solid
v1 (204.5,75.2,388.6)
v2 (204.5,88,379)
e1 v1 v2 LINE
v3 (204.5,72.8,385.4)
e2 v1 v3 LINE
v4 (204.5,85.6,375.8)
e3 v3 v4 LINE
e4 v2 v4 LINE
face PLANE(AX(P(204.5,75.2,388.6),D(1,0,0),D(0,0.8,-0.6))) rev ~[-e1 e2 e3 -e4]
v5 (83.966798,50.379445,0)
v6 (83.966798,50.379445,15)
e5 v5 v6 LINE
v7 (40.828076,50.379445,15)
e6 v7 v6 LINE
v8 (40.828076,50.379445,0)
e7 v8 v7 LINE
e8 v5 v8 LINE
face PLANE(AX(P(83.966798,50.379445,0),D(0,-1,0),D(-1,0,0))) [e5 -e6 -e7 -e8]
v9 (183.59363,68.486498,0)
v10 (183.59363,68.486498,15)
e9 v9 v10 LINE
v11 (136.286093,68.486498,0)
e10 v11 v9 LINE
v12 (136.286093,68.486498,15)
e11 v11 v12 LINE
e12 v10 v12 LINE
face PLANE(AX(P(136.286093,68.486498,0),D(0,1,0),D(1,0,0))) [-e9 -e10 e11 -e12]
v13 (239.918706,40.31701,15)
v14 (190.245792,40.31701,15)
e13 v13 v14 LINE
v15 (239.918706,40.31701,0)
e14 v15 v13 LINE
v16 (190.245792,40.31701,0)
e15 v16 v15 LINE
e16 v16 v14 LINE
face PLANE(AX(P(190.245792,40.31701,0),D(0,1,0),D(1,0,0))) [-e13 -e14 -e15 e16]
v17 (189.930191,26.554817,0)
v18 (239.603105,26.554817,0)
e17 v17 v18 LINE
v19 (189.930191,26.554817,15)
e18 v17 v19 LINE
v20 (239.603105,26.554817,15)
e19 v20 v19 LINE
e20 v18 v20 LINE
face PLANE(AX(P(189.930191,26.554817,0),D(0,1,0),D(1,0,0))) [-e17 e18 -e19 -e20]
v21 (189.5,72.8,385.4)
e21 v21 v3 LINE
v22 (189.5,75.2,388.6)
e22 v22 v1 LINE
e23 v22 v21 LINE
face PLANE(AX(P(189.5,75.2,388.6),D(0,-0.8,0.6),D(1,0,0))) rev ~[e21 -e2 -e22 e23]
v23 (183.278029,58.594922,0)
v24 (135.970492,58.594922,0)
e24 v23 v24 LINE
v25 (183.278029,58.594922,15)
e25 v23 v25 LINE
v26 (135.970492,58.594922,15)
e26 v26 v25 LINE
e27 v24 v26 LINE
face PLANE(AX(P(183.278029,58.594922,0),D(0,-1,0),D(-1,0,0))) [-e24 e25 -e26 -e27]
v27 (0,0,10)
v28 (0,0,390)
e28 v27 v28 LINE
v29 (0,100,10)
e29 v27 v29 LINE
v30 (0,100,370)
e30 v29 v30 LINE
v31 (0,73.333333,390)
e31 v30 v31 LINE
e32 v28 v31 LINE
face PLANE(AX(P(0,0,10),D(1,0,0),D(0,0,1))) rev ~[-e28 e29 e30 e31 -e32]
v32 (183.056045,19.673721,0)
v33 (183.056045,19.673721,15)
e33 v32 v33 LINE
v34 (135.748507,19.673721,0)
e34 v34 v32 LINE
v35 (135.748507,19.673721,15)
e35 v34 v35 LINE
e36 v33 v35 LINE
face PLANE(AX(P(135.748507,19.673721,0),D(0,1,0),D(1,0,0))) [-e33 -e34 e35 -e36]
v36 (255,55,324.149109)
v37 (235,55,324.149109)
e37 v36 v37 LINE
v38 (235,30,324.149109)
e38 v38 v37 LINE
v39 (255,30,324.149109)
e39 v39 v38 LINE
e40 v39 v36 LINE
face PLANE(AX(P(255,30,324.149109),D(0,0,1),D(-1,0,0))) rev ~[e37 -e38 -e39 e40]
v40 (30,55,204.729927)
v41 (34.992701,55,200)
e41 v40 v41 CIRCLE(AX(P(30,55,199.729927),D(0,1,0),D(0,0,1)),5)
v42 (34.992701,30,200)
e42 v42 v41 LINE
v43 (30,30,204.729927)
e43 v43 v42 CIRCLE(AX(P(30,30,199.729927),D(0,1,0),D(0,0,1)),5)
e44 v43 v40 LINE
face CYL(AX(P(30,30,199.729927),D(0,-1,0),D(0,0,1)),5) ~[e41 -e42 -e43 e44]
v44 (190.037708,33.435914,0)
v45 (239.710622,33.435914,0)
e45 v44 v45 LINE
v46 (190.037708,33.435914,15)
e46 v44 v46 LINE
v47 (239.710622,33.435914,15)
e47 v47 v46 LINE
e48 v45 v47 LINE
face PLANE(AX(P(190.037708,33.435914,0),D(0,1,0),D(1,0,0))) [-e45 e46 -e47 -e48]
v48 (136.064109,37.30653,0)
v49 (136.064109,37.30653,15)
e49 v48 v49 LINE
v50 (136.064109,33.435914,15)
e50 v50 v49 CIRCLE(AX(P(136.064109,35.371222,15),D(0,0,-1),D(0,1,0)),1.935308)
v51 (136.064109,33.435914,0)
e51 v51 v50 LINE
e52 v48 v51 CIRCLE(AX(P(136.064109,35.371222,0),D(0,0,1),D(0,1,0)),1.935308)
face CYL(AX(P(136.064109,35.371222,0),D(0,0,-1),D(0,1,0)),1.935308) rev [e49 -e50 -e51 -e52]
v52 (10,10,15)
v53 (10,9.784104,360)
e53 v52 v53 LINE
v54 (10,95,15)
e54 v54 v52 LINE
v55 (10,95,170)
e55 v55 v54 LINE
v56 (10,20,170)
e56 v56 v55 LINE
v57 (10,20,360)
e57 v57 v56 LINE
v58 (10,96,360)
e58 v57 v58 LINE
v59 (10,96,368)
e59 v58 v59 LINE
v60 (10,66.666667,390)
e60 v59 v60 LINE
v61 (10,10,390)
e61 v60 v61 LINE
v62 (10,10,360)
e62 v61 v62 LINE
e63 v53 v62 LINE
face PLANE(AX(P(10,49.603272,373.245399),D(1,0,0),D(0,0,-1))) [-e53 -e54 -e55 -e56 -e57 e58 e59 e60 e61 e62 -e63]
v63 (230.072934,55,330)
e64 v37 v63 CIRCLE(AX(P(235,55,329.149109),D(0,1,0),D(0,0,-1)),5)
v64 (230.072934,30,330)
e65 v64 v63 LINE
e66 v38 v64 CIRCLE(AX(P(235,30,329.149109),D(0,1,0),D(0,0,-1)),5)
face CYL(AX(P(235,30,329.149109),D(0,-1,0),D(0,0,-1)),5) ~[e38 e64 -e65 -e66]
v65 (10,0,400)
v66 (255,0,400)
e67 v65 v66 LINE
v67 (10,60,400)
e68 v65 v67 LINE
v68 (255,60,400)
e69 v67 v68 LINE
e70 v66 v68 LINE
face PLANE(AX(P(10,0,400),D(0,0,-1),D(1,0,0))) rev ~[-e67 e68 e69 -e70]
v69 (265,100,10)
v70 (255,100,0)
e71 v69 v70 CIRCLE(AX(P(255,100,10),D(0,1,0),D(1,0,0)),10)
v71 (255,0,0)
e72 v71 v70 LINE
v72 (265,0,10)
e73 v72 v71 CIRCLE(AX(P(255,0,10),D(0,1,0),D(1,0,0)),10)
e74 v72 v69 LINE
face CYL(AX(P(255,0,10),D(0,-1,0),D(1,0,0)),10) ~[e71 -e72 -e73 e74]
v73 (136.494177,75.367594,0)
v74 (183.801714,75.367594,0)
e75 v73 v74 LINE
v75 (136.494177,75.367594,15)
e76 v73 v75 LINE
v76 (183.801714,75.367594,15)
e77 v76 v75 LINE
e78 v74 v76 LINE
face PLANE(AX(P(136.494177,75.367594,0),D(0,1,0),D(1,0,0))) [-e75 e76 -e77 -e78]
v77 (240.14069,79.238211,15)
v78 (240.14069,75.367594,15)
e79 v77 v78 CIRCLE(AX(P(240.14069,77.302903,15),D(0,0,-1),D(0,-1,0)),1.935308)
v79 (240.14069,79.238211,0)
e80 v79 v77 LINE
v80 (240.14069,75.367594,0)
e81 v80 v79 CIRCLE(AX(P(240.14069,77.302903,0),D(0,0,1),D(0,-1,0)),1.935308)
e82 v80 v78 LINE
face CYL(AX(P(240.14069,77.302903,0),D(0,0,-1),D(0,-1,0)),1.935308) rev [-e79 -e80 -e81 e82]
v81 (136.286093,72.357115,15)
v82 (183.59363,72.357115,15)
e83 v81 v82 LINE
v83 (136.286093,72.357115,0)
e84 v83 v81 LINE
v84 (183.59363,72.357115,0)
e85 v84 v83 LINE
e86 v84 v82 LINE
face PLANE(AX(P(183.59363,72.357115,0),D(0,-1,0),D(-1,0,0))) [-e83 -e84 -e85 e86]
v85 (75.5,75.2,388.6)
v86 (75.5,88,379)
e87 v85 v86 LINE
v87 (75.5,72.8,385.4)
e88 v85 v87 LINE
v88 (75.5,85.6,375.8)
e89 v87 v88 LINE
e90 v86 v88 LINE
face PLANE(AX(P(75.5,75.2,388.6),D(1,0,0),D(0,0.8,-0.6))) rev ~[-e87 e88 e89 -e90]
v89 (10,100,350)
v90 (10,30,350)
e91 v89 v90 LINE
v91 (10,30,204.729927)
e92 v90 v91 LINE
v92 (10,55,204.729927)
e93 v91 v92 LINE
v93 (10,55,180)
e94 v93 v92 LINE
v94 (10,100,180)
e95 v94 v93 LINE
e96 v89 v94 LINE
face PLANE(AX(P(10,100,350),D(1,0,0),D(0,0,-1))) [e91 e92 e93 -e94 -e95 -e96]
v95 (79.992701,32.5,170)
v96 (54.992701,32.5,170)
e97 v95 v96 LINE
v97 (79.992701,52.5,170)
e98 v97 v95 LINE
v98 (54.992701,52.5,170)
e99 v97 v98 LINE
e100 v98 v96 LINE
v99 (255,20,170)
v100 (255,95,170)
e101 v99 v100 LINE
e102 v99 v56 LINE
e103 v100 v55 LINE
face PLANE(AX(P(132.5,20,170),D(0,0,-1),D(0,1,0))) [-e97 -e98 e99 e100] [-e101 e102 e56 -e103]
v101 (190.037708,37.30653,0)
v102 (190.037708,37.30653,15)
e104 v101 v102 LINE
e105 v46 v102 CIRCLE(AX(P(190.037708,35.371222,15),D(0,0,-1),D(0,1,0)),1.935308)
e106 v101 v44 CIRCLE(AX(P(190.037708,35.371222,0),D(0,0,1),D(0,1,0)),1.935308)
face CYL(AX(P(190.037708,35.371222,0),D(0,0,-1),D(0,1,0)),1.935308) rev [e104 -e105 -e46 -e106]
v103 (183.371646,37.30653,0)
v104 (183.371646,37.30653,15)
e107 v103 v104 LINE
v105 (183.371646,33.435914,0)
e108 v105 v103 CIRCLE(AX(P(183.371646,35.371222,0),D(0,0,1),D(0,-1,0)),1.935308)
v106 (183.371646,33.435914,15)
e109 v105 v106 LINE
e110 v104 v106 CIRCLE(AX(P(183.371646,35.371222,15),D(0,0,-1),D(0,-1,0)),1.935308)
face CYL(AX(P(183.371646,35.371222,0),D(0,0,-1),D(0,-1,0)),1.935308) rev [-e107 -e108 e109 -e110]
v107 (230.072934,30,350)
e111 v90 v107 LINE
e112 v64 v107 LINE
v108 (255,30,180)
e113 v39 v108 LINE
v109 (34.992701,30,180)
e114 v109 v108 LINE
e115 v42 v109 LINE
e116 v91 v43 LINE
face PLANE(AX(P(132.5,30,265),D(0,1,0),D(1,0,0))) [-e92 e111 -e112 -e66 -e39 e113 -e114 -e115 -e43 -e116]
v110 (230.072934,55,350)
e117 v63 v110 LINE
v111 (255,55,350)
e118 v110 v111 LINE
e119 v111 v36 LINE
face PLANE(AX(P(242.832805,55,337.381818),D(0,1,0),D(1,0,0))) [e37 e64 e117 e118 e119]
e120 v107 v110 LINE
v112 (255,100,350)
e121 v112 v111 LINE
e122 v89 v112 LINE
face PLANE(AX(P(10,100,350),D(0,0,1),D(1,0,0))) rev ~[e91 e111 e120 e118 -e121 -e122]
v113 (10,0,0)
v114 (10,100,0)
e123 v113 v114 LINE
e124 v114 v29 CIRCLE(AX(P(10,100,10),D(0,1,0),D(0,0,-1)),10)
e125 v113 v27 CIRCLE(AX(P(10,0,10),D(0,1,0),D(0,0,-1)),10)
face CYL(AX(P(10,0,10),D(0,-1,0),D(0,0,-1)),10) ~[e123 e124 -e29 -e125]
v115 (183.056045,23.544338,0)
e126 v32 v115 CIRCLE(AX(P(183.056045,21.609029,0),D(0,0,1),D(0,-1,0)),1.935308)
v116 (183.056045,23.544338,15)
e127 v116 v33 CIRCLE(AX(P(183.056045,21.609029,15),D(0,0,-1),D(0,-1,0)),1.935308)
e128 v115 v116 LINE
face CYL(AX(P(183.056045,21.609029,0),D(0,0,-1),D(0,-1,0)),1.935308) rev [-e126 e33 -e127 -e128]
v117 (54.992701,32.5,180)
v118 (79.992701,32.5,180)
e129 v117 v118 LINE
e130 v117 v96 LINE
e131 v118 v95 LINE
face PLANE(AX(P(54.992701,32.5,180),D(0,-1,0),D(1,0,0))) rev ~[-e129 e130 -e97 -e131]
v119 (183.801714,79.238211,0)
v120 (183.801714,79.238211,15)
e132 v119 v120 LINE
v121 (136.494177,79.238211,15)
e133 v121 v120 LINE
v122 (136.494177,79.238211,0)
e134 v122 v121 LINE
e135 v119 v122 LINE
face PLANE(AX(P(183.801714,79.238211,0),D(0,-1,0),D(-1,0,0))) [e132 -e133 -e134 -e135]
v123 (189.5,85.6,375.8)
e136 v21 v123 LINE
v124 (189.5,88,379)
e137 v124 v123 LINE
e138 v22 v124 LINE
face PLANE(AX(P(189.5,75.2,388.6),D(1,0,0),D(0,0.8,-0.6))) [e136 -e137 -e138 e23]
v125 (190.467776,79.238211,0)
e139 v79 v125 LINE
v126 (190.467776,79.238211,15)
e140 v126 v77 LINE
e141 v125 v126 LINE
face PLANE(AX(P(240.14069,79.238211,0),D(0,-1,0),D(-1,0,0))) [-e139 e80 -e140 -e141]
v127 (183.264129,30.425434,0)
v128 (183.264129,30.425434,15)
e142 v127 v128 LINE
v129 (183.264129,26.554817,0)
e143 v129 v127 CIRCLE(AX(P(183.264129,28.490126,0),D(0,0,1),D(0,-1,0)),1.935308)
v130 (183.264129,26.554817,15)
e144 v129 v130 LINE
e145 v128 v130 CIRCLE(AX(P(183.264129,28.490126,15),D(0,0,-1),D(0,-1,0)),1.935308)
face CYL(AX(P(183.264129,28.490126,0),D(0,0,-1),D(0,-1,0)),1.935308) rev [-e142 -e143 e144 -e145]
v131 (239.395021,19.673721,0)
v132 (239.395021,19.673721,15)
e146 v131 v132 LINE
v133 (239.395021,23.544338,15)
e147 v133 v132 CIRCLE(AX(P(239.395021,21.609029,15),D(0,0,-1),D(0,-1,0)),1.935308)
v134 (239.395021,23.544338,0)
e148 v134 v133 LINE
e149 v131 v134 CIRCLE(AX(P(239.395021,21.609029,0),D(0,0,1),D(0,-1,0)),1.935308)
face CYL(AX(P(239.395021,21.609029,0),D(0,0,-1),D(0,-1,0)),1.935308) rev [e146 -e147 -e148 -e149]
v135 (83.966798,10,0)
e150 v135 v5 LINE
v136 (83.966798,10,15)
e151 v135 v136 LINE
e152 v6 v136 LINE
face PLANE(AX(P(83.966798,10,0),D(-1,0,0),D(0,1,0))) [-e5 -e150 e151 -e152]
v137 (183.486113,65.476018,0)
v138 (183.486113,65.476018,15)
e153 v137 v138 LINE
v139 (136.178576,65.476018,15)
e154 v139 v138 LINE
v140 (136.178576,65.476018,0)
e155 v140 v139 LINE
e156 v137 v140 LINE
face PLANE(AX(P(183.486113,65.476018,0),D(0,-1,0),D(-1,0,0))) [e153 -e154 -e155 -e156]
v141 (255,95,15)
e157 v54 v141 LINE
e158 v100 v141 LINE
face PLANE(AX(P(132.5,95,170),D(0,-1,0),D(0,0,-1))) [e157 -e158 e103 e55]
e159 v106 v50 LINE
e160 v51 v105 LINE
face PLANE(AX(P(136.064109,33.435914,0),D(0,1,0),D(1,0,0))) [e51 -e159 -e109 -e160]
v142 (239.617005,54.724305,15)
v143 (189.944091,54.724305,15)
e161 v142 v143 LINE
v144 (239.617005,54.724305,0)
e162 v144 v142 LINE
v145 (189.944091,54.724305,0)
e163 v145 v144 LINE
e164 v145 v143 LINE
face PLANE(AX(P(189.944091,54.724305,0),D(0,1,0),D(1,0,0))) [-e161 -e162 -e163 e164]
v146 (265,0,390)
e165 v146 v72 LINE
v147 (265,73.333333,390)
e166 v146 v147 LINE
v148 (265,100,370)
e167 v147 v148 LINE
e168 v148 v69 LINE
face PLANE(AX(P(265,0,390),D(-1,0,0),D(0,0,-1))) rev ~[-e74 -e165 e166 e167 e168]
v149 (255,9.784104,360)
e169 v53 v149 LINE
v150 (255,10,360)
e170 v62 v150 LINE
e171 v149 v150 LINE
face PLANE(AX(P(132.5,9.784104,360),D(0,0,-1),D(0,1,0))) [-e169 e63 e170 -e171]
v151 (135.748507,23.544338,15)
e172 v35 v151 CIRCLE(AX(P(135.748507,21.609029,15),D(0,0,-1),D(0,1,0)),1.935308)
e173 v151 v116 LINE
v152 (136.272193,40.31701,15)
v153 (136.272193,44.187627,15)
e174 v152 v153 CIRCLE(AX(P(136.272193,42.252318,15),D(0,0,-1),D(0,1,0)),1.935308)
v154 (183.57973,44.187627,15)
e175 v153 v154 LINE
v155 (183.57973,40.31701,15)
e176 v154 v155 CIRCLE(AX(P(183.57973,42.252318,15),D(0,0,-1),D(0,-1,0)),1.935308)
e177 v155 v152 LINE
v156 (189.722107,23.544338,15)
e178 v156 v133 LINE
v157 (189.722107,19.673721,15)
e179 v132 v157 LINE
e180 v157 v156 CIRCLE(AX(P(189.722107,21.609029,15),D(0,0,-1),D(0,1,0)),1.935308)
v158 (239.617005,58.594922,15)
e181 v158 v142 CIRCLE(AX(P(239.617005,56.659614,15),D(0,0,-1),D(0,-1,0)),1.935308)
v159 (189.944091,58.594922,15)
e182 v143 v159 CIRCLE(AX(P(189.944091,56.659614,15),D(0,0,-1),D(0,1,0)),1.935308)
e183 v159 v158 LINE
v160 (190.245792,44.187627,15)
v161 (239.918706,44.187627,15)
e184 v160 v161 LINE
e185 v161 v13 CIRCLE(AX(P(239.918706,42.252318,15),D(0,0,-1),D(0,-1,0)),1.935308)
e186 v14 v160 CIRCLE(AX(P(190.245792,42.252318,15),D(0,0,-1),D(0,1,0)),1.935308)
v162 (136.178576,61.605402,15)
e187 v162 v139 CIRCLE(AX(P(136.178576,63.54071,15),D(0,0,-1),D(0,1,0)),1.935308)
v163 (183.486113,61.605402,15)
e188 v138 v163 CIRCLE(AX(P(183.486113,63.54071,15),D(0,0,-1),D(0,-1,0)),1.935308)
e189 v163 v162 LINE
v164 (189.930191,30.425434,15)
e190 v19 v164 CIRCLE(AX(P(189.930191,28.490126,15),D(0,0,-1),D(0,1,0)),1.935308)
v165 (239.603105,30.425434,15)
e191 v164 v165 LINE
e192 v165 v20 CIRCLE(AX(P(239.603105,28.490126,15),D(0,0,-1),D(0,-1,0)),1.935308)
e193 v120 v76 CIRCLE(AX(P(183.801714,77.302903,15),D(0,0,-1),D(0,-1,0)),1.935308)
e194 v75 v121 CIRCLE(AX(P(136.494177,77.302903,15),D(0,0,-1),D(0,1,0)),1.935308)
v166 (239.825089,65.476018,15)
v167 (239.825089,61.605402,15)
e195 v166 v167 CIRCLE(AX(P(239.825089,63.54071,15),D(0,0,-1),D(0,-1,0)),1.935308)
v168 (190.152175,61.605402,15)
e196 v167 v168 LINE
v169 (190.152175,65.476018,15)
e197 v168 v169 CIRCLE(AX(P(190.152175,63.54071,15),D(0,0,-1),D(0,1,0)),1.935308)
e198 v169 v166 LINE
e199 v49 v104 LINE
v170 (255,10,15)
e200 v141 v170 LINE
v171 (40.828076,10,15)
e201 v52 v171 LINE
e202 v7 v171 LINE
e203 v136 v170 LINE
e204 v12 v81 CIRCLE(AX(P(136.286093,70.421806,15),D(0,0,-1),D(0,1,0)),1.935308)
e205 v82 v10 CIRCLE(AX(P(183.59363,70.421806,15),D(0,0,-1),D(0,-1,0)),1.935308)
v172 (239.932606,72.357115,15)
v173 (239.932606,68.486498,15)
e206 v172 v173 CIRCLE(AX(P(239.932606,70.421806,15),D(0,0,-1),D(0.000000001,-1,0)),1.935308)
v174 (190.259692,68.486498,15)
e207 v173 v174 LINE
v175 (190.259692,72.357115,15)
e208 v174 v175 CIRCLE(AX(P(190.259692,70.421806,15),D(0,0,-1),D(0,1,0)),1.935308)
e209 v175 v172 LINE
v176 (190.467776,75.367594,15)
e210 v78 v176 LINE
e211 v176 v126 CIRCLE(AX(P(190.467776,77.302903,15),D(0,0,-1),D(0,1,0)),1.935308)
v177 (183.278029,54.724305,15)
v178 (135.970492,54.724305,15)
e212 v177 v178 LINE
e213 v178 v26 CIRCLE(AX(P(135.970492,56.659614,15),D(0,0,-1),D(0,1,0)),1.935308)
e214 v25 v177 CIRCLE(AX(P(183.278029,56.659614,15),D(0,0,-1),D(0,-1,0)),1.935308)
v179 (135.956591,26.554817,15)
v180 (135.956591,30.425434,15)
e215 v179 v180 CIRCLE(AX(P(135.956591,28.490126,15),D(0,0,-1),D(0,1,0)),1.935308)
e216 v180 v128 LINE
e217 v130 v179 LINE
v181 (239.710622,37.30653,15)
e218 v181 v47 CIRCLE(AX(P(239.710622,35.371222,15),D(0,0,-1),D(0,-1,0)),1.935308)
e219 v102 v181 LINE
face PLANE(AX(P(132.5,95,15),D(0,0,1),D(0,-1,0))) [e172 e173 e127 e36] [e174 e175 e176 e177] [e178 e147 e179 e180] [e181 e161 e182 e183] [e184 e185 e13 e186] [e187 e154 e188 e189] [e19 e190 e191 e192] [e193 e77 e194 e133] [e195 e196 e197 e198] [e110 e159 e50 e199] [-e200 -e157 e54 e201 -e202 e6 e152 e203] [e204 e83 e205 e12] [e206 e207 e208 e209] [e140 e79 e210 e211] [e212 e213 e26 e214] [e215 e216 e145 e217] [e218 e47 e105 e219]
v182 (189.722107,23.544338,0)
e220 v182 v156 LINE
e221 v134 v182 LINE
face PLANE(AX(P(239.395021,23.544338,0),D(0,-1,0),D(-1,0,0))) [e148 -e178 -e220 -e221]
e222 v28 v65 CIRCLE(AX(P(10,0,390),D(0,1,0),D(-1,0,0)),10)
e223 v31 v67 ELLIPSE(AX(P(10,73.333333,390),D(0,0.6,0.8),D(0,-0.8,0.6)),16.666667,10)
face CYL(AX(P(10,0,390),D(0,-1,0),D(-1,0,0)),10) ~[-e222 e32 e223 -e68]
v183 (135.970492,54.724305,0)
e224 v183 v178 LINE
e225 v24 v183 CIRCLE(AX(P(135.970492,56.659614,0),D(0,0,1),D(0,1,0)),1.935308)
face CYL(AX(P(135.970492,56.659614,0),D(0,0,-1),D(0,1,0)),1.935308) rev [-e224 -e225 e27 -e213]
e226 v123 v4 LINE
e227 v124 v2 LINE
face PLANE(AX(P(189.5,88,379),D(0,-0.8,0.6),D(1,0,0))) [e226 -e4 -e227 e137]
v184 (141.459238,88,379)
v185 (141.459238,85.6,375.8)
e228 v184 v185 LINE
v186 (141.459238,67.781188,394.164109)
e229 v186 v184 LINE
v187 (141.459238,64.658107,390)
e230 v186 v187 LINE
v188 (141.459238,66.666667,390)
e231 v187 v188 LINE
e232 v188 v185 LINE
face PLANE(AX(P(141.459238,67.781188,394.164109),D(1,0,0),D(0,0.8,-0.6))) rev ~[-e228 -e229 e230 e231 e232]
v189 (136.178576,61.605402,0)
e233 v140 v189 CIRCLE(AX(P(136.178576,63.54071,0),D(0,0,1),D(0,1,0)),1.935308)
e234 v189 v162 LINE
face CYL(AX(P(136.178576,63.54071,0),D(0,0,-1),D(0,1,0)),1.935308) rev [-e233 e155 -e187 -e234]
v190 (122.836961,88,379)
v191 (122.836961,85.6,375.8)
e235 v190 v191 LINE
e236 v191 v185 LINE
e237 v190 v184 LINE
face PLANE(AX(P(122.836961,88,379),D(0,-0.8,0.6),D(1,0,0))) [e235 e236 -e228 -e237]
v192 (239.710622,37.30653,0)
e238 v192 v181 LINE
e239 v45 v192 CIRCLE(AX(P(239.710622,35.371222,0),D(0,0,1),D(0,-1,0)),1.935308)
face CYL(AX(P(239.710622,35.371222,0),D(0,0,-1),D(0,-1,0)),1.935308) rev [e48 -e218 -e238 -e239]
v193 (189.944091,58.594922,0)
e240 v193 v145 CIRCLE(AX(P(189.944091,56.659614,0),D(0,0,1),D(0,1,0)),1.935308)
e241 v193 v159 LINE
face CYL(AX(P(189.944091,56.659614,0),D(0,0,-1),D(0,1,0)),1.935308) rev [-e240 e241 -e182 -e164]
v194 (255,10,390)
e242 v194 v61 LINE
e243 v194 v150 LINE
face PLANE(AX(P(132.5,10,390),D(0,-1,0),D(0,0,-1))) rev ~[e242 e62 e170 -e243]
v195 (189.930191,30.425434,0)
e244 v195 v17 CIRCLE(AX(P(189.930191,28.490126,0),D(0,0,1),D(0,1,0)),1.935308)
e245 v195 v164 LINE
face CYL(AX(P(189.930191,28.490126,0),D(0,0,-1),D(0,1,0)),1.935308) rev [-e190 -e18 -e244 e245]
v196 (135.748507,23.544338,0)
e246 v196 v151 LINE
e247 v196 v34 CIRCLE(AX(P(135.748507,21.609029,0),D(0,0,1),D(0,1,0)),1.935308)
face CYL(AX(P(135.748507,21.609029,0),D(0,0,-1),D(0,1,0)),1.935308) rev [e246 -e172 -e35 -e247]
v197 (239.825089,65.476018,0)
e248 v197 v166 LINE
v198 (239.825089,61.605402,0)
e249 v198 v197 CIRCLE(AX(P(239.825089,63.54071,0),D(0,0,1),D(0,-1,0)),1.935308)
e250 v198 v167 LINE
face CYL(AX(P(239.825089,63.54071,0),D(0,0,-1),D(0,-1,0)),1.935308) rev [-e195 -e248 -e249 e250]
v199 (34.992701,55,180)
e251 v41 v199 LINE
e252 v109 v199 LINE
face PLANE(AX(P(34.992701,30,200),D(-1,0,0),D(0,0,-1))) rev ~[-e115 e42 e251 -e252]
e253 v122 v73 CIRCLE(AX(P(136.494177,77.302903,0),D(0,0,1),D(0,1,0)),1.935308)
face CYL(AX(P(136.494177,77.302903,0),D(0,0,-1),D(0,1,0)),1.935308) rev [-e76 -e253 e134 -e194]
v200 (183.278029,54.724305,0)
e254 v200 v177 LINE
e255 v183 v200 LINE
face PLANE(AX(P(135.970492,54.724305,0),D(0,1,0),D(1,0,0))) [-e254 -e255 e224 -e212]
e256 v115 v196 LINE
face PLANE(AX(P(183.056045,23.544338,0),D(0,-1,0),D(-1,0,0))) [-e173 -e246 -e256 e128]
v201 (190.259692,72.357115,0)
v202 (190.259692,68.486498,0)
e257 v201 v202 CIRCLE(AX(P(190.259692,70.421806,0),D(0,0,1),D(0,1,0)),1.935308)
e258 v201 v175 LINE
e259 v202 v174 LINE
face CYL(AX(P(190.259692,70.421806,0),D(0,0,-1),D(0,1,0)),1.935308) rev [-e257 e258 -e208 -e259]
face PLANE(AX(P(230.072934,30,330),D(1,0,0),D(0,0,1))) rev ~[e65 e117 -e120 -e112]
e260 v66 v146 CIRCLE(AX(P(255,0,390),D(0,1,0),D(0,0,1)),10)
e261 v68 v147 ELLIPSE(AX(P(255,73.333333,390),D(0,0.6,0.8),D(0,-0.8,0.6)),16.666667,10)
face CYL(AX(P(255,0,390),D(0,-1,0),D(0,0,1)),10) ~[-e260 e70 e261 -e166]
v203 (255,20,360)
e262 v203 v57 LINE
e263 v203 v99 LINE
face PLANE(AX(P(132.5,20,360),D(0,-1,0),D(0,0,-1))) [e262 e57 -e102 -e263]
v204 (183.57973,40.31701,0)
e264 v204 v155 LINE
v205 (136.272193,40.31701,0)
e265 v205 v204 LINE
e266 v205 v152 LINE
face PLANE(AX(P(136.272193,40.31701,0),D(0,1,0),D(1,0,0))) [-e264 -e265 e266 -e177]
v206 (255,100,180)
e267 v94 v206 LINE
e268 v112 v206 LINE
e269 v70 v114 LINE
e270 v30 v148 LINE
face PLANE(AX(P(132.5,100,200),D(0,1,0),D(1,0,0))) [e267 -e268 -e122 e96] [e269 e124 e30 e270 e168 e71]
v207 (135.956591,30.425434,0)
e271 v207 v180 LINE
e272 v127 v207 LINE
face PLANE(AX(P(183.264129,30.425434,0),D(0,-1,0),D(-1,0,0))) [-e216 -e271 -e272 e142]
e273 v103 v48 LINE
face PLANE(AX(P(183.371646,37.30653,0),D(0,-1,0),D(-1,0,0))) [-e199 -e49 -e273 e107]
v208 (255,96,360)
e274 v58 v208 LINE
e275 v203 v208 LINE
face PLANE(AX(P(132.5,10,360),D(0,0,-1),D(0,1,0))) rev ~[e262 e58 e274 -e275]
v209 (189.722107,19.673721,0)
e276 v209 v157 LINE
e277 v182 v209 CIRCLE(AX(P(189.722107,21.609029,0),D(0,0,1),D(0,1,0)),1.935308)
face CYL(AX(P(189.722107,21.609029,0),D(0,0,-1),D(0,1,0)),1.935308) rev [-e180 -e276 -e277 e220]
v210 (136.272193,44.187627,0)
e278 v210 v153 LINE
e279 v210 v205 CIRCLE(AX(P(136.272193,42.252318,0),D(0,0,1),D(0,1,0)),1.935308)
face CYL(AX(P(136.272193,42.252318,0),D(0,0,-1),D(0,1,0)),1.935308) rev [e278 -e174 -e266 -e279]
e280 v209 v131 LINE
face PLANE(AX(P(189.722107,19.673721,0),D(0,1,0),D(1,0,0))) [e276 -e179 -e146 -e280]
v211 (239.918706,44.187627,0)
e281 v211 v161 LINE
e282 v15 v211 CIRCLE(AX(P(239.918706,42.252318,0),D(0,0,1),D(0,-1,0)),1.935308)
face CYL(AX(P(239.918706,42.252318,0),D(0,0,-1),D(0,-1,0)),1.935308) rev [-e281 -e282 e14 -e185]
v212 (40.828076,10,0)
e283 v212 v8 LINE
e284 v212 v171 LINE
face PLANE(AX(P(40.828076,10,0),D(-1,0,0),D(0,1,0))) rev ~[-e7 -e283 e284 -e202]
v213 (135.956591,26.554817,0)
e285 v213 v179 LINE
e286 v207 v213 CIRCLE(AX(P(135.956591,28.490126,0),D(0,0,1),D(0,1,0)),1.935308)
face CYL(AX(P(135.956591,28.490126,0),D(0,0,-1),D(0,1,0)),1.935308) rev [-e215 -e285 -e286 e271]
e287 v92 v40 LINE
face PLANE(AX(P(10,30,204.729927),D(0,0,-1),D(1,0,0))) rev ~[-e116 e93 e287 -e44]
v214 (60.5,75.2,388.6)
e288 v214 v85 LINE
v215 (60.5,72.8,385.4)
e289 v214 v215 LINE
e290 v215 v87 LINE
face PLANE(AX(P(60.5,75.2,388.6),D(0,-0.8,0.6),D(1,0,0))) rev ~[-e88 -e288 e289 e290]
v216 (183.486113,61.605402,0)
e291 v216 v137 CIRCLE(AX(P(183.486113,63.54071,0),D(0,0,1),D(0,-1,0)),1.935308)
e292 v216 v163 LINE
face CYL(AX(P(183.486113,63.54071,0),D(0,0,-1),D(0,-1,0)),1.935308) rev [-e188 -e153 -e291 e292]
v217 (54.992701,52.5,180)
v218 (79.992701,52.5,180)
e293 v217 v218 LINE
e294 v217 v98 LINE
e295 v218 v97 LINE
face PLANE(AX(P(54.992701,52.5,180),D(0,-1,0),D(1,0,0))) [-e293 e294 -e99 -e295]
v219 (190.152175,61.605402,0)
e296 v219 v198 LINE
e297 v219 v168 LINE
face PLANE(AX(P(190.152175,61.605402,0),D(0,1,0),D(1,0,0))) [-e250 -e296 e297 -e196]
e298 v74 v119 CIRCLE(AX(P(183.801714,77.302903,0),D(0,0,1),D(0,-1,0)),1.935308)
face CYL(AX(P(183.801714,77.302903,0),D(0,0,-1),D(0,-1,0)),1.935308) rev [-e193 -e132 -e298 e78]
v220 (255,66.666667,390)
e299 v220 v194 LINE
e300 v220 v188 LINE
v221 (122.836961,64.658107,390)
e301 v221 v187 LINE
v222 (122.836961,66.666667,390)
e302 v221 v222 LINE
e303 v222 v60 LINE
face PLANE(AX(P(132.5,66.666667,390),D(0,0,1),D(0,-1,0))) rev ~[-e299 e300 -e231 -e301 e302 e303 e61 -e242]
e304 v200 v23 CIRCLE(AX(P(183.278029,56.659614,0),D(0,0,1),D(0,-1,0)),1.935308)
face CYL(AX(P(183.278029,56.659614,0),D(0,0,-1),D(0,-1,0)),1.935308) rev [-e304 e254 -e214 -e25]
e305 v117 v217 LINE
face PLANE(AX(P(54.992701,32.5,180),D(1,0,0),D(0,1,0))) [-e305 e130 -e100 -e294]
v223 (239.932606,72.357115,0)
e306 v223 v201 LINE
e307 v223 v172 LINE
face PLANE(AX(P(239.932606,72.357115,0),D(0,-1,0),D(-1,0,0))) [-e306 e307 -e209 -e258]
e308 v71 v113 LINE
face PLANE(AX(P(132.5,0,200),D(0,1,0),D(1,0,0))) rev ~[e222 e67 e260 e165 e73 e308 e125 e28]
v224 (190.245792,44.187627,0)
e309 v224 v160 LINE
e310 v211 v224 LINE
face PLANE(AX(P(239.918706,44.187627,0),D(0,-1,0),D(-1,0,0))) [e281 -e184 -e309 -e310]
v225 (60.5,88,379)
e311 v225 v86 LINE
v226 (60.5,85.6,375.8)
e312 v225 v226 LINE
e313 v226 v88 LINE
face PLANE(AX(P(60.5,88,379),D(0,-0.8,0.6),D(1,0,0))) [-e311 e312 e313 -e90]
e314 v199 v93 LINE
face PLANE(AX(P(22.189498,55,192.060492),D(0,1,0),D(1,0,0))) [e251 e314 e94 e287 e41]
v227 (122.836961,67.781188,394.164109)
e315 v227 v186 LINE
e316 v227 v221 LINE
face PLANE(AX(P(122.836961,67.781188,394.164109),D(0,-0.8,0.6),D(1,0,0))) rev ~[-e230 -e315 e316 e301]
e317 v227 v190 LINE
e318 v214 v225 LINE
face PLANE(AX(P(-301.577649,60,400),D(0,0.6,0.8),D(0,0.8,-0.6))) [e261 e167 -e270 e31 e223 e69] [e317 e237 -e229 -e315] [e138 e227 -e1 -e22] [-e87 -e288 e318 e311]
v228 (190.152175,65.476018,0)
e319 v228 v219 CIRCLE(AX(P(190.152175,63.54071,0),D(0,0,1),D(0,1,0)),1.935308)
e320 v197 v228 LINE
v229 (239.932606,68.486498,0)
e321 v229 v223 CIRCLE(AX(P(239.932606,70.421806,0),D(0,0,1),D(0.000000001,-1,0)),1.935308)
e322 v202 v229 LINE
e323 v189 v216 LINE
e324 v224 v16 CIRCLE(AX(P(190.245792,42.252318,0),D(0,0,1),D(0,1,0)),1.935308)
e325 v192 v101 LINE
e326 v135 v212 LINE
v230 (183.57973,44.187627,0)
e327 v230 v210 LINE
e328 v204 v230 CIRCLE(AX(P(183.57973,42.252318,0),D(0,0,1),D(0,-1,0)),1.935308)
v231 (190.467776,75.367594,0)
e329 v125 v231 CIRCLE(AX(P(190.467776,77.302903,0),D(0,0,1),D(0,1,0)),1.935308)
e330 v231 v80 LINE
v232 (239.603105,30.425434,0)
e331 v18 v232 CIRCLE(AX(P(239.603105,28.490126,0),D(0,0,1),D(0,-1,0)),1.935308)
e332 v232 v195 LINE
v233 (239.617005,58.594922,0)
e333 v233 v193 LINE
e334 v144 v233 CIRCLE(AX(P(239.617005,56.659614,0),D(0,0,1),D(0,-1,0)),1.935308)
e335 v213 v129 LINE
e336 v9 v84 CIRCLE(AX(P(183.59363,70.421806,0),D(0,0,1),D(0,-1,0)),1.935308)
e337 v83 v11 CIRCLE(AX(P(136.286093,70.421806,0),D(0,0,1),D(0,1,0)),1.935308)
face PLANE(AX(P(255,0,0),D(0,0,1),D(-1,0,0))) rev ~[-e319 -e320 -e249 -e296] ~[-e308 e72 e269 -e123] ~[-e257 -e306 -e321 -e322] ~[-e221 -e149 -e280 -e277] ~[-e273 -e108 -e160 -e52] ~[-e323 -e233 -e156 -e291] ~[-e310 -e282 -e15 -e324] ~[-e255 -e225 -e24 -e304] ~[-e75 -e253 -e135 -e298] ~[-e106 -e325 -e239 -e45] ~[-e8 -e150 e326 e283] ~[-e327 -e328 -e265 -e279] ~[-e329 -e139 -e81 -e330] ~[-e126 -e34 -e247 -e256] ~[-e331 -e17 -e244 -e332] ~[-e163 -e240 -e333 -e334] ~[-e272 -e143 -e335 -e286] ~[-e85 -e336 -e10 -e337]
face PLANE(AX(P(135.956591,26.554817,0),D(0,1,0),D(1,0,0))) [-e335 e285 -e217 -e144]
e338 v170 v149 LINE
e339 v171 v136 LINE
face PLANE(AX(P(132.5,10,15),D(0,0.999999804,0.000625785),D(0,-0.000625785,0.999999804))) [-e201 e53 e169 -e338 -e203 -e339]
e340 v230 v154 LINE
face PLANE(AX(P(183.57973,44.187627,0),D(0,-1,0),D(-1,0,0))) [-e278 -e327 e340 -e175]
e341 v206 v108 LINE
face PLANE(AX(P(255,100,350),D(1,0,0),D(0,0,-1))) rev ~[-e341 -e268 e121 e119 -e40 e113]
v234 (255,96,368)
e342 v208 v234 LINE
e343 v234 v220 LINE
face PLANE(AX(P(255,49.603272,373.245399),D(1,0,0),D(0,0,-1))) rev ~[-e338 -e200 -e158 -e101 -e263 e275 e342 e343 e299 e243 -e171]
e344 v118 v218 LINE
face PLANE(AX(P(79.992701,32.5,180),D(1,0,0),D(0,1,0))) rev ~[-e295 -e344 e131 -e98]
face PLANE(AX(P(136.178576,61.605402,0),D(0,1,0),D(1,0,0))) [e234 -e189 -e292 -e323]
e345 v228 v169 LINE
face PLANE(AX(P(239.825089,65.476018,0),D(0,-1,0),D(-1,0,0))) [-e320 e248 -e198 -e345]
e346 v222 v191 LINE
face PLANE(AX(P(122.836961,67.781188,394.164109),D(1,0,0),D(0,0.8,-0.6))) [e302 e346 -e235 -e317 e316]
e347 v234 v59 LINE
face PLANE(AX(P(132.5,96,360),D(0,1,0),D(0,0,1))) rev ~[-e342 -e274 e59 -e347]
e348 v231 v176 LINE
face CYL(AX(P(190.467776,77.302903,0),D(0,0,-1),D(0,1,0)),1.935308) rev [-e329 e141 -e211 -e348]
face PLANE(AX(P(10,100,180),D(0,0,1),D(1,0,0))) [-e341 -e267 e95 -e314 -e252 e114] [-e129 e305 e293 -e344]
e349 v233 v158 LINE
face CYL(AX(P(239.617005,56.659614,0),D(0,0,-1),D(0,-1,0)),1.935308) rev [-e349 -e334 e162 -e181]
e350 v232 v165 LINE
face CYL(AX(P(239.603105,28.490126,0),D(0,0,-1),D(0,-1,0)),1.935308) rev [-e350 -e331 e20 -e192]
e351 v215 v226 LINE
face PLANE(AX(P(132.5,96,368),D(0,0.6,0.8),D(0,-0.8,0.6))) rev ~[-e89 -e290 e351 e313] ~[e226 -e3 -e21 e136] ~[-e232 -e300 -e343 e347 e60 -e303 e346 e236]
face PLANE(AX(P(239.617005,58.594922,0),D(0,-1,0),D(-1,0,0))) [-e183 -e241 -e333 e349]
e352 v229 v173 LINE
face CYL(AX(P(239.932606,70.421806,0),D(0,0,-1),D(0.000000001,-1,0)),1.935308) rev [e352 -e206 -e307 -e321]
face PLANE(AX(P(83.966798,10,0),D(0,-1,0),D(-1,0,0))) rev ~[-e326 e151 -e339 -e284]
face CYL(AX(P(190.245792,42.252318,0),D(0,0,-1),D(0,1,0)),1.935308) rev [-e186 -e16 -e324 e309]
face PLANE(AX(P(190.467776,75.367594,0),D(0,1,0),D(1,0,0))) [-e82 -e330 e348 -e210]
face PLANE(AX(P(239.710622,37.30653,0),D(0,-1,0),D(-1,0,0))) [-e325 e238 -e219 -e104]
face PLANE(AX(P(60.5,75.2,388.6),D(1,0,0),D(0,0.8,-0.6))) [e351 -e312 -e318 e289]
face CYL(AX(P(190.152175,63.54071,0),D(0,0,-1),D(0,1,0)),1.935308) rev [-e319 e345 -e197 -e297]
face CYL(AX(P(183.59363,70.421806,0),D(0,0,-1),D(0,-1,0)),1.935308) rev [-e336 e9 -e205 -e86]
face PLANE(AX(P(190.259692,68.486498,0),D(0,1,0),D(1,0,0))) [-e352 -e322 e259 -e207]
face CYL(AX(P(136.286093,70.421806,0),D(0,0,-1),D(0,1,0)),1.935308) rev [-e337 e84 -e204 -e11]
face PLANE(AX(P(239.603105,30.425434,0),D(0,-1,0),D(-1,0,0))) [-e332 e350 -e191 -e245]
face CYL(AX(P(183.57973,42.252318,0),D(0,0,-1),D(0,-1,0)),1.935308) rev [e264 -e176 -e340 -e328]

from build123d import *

# Parameters (mm, degrees)
BOSS_EXTRUDE2_DEPTH      = 100
SKETCH4_W                = 245
SKETCH4_H                = 170
CUT_EXTRUDE2_DEPTH       = 70
CUT_EXTRUDE12_DEPTH      = 434.077648927
CUT_EXTRUDE12_DEPTH_BACK = 434.077648927
CUT_EXTRUDE13_DEPTH      = 122.5
CUT_EXTRUDE14_DEPTH      = 122.5
SKETCH16_W               = 43.138722299
SKETCH16_H               = 40.379444726
CUT_EXTRUDE15_DEPTH      = 30
SKETCH17_W               = 15
SKETCH17_H               = 16
SKETCH17_W_2             = 18.622276722
SKETCH17_H_2             = 25.273514742
CUT_EXTRUDE16_DEPTH      = 10
BOSS_EXTRUDE3_DEPTH      = 25
SKETCH19_W               = 25
SKETCH19_H               = 20
CUT_EXTRUDE17_DEPTH      = 15


with BuildPart() as part:
    # Sketch1 → Boss-Extrude2 (new body)
    with BuildSketch(Plane(origin=(0, 0, 0), x_dir=(1, 0, 0), z_dir=(0, 1, 0))):
        with BuildLine():
            Line((0, -10), (0, -390))
            ThreePointArc((0, -390), (2.928932188, -397.071067812), (10, -400))
            Line((10, -400), (255, -400))
            ThreePointArc((255, -400), (262.071067812, -397.071067812), (265, -390))
            Line((265, -390), (265, -10))
            ThreePointArc((265, -10), (262.071067812, -2.928932188), (255, 0))
            Line((255, 0), (10, 0))
            ThreePointArc((10, 0), (2.928932188, -2.928932188), (0, -10))
        make_face()
    extrude(amount=BOSS_EXTRUDE2_DEPTH)

    # Sketch4 → Cut-Extrude2 (cut)
    with BuildSketch(Plane(origin=(0, 100, 0), x_dir=(1, 0, 0), z_dir=(0, 1, 0))):
        with Locations((132.5, -265)):
            Rectangle(SKETCH4_W, SKETCH4_H)
    extrude(amount=-CUT_EXTRUDE2_DEPTH, mode=Mode.SUBTRACT)

    # Sketch10 → Cut-Extrude12 (cut, two sides: drawn at the far end of the back side and taken through both)
    with BuildSketch(Plane(origin=(132.5, 0, 0), x_dir=(0, 0, -1), z_dir=(1, 0, 0)).offset(-CUT_EXTRUDE12_DEPTH_BACK)):
        Polygon((-400, 60), (-370, 100), (-400, 100), align=None)
    extrude(amount=CUT_EXTRUDE12_DEPTH + CUT_EXTRUDE12_DEPTH_BACK, mode=Mode.SUBTRACT)

    # Sketch14 → Cut-Extrude13 (cut, symmetric)
    with BuildSketch(Plane(origin=(132.5, 0, 0), x_dir=(0, 0, -1), z_dir=(1, 0, 0))):
        Polygon((-390, 10), (-360, 10), (-360, 96), (-368, 96), (-390, 66.666666667), align=None)
    extrude(amount=CUT_EXTRUDE13_DEPTH, both=True, mode=Mode.SUBTRACT)

    # Sketch15 → Cut-Extrude14 (cut, symmetric)
    with BuildSketch(Plane(origin=(132.5, 0, 0), x_dir=(0, 0, -1), z_dir=(1, 0, 0))):
        Polygon((-360, 9.784104138), (-360, 20), (-170, 20), (-170, 95), (-15, 95), (-15, 10), align=None)
    extrude(amount=CUT_EXTRUDE14_DEPTH, both=True, mode=Mode.SUBTRACT)

    # Sketch16 → Cut-Extrude15 (cut)
    with BuildSketch(Plane(origin=(0, 0, 0), x_dir=(-1, 0, 0), z_dir=(0, 0, -1))):
        with BuildLine():
            Line((-240.140690251, 79.23821095), (-190.467776295, 79.23821095))
            ThreePointArc((-190.467776295, 79.23821095), (-188.532467959, 77.302902614), (-190.467776295, 75.367594278))
            Line((-190.467776295, 75.367594278), (-240.140690251, 75.367594278))
            ThreePointArc((-240.140690251, 75.367594278), (-242.075998587, 77.302902614), (-240.140690251, 79.23821095))
        make_face()
        with BuildLine():
            Line((-183.801714249, 79.23821095), (-136.494177148, 79.23821095))
            ThreePointArc((-136.494177148, 79.23821095), (-134.558868812, 77.302902614), (-136.494177148, 75.367594278))
            Line((-136.494177148, 75.367594278), (-183.801714249, 75.367594278))
            ThreePointArc((-183.801714249, 75.367594278), (-185.737022585, 77.302902614), (-183.801714249, 79.23821095))
        make_face()
        with BuildLine():
            Line((-239.932606186, 72.357114645), (-190.25969223, 72.357114645))
            ThreePointArc((-190.25969223, 72.357114645), (-188.324383894, 70.421806309), (-190.25969223, 68.486497973))
            Line((-190.25969223, 68.486497973), (-239.932606186, 68.486497973))
            ThreePointArc((-239.932606186, 68.486497973), (-241.867914521, 70.421806309), (-239.932606186, 72.357114645))
        make_face()
        with BuildLine():
            Line((-183.593630184, 72.357114645), (-136.286093083, 72.357114645))
            ThreePointArc((-136.286093083, 72.357114645), (-134.350784747, 70.421806309), (-136.286093083, 68.486497973))
            Line((-136.286093083, 68.486497973), (-183.593630184, 68.486497973))
            ThreePointArc((-183.593630184, 68.486497973), (-185.52893852, 70.421806309), (-183.593630184, 72.357114645))
        make_face()
        with BuildLine():
            Line((-239.825089056, 65.476018339), (-190.1521751, 65.476018339))
            ThreePointArc((-190.1521751, 65.476018339), (-188.216866764, 63.540710003), (-190.1521751, 61.605401667))
            Line((-190.1521751, 61.605401667), (-239.825089056, 61.605401667))
            ThreePointArc((-239.825089056, 61.605401667), (-241.760397392, 63.540710003), (-239.825089056, 65.476018339))
        make_face()
        with BuildLine():
            Line((-183.486113054, 65.476018339), (-136.178575953, 65.476018339))
            ThreePointArc((-136.178575953, 65.476018339), (-134.243267617, 63.540710003), (-136.178575953, 61.605401667))
            Line((-136.178575953, 61.605401667), (-183.486113054, 61.605401667))
            ThreePointArc((-183.486113054, 61.605401667), (-185.42142139, 63.540710003), (-183.486113054, 65.476018339))
        make_face()
        with BuildLine():
            Line((-239.617004991, 58.594922033), (-189.944091035, 58.594922033))
            ThreePointArc((-189.944091035, 58.594922033), (-188.008782699, 56.659613697), (-189.944091035, 54.724305362))
            Line((-189.944091035, 54.724305362), (-239.617004991, 54.724305362))
            ThreePointArc((-239.617004991, 54.724305362), (-241.552313326, 56.659613697), (-239.617004991, 58.594922033))
        make_face()
        with BuildLine():
            Line((-183.278028989, 58.594922033), (-135.970491888, 58.594922033))
            ThreePointArc((-135.970491888, 58.594922033), (-134.035183552, 56.659613697), (-135.970491888, 54.724305362))
            Line((-135.970491888, 54.724305362), (-183.278028989, 54.724305362))
            ThreePointArc((-183.278028989, 54.724305362), (-185.213337325, 56.659613697), (-183.278028989, 58.594922033))
        make_face()
        with BuildLine():
            Line((-239.918705797, 44.187626644), (-190.245791841, 44.187626644))
            ThreePointArc((-190.245791841, 44.187626644), (-188.310483505, 42.252318308), (-190.245791841, 40.317009972))
            Line((-190.245791841, 40.317009972), (-239.918705797, 40.317009972))
            ThreePointArc((-239.918705797, 40.317009972), (-241.854014133, 42.252318308), (-239.918705797, 44.187626644))
        make_face()
        with BuildLine():
            Line((-183.579729795, 44.187626644), (-136.272192694, 44.187626644))
            ThreePointArc((-136.272192694, 44.187626644), (-134.336884358, 42.252318308), (-136.272192694, 40.317009972))
            Line((-136.272192694, 40.317009972), (-183.579729795, 40.317009972))
            ThreePointArc((-183.579729795, 40.317009972), (-185.515038131, 42.252318308), (-183.579729795, 44.187626644))
        make_face()
        with BuildLine():
            Line((-239.710621732, 37.306530338), (-190.037707776, 37.306530338))
            ThreePointArc((-190.037707776, 37.306530338), (-188.10239944, 35.371222002), (-190.037707776, 33.435913666))
            Line((-190.037707776, 33.435913666), (-239.710621732, 33.435913666))
            ThreePointArc((-239.710621732, 33.435913666), (-241.645930068, 35.371222002), (-239.710621732, 37.306530338))
        make_face()
        with BuildLine():
            Line((-183.37164573, 37.306530338), (-136.064108629, 37.306530338))
            ThreePointArc((-136.064108629, 37.306530338), (-134.128800293, 35.371222002), (-136.064108629, 33.435913666))
            Line((-136.064108629, 33.435913666), (-183.37164573, 33.435913666))
            ThreePointArc((-183.37164573, 33.435913666), (-185.306954066, 35.371222002), (-183.37164573, 37.306530338))
        make_face()
        with BuildLine():
            Line((-239.603104602, 30.425434033), (-189.930190646, 30.425434033))
            ThreePointArc((-189.930190646, 30.425434033), (-187.99488231, 28.490125697), (-189.930190646, 26.554817361))
            Line((-189.930190646, 26.554817361), (-239.603104602, 26.554817361))
            ThreePointArc((-239.603104602, 26.554817361), (-241.538412938, 28.490125697), (-239.603104602, 30.425434033))
        make_face()
        with BuildLine():
            Line((-183.2641286, 30.425434033), (-135.956591499, 30.425434033))
            ThreePointArc((-135.956591499, 30.425434033), (-134.021283163, 28.490125697), (-135.956591499, 26.554817361))
            Line((-135.956591499, 26.554817361), (-183.2641286, 26.554817361))
            ThreePointArc((-183.2641286, 26.554817361), (-185.199436936, 28.490125697), (-183.2641286, 30.425434033))
        make_face()
        with BuildLine():
            Line((-239.395020537, 23.544337727), (-189.722106581, 23.544337727))
            ThreePointArc((-189.722106581, 23.544337727), (-187.786798245, 21.609029391), (-189.722106581, 19.673721055))
            Line((-189.722106581, 19.673721055), (-239.395020537, 19.673721055))
            ThreePointArc((-239.395020537, 19.673721055), (-241.330328873, 21.609029391), (-239.395020537, 23.544337727))
        make_face()
        with BuildLine():
            Line((-183.056044535, 23.544337727), (-135.748507434, 23.544337727))
            ThreePointArc((-135.748507434, 23.544337727), (-133.813199098, 21.609029391), (-135.748507434, 19.673721055))
            Line((-135.748507434, 19.673721055), (-183.056044535, 19.673721055))
            ThreePointArc((-183.056044535, 19.673721055), (-184.991352871, 21.609029391), (-183.056044535, 23.544337727))
        make_face()
        with Locations((-62.397436661, 30.189722363)):
            Rectangle(SKETCH16_W, SKETCH16_H)
    extrude(amount=-CUT_EXTRUDE15_DEPTH, mode=Mode.SUBTRACT)

    # Sketch17 → Cut-Extrude16 (cut)
    with BuildSketch(Plane(origin=(0, 213.6, 284.8), x_dir=(1, 0, 0), z_dir=(0, 0.5999999999999998, 0.8000000000000004))):
        with Locations((68, -165)):
            Rectangle(SKETCH17_W, SKETCH17_H)
        with Locations((197, -165)):
            Rectangle(SKETCH17_W, SKETCH17_H)
        with Locations((132.148099668, -169.636757371)):
            Rectangle(SKETCH17_W_2, SKETCH17_H_2)
    extrude(amount=-CUT_EXTRUDE16_DEPTH, mode=Mode.SUBTRACT)

    # Sketch18 → Boss-Extrude3 (add)
    with BuildSketch(Plane(origin=(0, 30, 0), x_dir=(1, 0, 0), z_dir=(0, 1, 0))):
        with BuildLine():
            Line((10, -180), (10, -204.729927007))
            Line((10, -204.729927007), (30, -204.729927007))
            ThreePointArc((30, -204.729927007), (33.43872324, -203.359690427), (34.99270073, -200))
            Line((34.99270073, -200), (34.99270073, -180))
            Line((34.99270073, -180), (10, -180))
        make_face()
        with BuildLine():
            Line((255, -350), (255, -324.14910859))
            Line((255, -324.14910859), (235, -324.14910859))
            ThreePointArc((235, -324.14910859), (231.175444009, -325.928429861), (230.072933549, -330))
            Line((230.072933549, -330), (230.072933549, -350))
            Line((230.072933549, -350), (255, -350))
        make_face()
    extrude(amount=BOSS_EXTRUDE3_DEPTH)

    # Sketch19 → Cut-Extrude17 (cut)
    with BuildSketch(Plane.XY.offset(180)):
        with Locations((67.49270073, 42.5)):
            Rectangle(SKETCH19_W, SKETCH19_H)
    extrude(amount=-CUT_EXTRUDE17_DEPTH, mode=Mode.SUBTRACT)


solid = part.part
